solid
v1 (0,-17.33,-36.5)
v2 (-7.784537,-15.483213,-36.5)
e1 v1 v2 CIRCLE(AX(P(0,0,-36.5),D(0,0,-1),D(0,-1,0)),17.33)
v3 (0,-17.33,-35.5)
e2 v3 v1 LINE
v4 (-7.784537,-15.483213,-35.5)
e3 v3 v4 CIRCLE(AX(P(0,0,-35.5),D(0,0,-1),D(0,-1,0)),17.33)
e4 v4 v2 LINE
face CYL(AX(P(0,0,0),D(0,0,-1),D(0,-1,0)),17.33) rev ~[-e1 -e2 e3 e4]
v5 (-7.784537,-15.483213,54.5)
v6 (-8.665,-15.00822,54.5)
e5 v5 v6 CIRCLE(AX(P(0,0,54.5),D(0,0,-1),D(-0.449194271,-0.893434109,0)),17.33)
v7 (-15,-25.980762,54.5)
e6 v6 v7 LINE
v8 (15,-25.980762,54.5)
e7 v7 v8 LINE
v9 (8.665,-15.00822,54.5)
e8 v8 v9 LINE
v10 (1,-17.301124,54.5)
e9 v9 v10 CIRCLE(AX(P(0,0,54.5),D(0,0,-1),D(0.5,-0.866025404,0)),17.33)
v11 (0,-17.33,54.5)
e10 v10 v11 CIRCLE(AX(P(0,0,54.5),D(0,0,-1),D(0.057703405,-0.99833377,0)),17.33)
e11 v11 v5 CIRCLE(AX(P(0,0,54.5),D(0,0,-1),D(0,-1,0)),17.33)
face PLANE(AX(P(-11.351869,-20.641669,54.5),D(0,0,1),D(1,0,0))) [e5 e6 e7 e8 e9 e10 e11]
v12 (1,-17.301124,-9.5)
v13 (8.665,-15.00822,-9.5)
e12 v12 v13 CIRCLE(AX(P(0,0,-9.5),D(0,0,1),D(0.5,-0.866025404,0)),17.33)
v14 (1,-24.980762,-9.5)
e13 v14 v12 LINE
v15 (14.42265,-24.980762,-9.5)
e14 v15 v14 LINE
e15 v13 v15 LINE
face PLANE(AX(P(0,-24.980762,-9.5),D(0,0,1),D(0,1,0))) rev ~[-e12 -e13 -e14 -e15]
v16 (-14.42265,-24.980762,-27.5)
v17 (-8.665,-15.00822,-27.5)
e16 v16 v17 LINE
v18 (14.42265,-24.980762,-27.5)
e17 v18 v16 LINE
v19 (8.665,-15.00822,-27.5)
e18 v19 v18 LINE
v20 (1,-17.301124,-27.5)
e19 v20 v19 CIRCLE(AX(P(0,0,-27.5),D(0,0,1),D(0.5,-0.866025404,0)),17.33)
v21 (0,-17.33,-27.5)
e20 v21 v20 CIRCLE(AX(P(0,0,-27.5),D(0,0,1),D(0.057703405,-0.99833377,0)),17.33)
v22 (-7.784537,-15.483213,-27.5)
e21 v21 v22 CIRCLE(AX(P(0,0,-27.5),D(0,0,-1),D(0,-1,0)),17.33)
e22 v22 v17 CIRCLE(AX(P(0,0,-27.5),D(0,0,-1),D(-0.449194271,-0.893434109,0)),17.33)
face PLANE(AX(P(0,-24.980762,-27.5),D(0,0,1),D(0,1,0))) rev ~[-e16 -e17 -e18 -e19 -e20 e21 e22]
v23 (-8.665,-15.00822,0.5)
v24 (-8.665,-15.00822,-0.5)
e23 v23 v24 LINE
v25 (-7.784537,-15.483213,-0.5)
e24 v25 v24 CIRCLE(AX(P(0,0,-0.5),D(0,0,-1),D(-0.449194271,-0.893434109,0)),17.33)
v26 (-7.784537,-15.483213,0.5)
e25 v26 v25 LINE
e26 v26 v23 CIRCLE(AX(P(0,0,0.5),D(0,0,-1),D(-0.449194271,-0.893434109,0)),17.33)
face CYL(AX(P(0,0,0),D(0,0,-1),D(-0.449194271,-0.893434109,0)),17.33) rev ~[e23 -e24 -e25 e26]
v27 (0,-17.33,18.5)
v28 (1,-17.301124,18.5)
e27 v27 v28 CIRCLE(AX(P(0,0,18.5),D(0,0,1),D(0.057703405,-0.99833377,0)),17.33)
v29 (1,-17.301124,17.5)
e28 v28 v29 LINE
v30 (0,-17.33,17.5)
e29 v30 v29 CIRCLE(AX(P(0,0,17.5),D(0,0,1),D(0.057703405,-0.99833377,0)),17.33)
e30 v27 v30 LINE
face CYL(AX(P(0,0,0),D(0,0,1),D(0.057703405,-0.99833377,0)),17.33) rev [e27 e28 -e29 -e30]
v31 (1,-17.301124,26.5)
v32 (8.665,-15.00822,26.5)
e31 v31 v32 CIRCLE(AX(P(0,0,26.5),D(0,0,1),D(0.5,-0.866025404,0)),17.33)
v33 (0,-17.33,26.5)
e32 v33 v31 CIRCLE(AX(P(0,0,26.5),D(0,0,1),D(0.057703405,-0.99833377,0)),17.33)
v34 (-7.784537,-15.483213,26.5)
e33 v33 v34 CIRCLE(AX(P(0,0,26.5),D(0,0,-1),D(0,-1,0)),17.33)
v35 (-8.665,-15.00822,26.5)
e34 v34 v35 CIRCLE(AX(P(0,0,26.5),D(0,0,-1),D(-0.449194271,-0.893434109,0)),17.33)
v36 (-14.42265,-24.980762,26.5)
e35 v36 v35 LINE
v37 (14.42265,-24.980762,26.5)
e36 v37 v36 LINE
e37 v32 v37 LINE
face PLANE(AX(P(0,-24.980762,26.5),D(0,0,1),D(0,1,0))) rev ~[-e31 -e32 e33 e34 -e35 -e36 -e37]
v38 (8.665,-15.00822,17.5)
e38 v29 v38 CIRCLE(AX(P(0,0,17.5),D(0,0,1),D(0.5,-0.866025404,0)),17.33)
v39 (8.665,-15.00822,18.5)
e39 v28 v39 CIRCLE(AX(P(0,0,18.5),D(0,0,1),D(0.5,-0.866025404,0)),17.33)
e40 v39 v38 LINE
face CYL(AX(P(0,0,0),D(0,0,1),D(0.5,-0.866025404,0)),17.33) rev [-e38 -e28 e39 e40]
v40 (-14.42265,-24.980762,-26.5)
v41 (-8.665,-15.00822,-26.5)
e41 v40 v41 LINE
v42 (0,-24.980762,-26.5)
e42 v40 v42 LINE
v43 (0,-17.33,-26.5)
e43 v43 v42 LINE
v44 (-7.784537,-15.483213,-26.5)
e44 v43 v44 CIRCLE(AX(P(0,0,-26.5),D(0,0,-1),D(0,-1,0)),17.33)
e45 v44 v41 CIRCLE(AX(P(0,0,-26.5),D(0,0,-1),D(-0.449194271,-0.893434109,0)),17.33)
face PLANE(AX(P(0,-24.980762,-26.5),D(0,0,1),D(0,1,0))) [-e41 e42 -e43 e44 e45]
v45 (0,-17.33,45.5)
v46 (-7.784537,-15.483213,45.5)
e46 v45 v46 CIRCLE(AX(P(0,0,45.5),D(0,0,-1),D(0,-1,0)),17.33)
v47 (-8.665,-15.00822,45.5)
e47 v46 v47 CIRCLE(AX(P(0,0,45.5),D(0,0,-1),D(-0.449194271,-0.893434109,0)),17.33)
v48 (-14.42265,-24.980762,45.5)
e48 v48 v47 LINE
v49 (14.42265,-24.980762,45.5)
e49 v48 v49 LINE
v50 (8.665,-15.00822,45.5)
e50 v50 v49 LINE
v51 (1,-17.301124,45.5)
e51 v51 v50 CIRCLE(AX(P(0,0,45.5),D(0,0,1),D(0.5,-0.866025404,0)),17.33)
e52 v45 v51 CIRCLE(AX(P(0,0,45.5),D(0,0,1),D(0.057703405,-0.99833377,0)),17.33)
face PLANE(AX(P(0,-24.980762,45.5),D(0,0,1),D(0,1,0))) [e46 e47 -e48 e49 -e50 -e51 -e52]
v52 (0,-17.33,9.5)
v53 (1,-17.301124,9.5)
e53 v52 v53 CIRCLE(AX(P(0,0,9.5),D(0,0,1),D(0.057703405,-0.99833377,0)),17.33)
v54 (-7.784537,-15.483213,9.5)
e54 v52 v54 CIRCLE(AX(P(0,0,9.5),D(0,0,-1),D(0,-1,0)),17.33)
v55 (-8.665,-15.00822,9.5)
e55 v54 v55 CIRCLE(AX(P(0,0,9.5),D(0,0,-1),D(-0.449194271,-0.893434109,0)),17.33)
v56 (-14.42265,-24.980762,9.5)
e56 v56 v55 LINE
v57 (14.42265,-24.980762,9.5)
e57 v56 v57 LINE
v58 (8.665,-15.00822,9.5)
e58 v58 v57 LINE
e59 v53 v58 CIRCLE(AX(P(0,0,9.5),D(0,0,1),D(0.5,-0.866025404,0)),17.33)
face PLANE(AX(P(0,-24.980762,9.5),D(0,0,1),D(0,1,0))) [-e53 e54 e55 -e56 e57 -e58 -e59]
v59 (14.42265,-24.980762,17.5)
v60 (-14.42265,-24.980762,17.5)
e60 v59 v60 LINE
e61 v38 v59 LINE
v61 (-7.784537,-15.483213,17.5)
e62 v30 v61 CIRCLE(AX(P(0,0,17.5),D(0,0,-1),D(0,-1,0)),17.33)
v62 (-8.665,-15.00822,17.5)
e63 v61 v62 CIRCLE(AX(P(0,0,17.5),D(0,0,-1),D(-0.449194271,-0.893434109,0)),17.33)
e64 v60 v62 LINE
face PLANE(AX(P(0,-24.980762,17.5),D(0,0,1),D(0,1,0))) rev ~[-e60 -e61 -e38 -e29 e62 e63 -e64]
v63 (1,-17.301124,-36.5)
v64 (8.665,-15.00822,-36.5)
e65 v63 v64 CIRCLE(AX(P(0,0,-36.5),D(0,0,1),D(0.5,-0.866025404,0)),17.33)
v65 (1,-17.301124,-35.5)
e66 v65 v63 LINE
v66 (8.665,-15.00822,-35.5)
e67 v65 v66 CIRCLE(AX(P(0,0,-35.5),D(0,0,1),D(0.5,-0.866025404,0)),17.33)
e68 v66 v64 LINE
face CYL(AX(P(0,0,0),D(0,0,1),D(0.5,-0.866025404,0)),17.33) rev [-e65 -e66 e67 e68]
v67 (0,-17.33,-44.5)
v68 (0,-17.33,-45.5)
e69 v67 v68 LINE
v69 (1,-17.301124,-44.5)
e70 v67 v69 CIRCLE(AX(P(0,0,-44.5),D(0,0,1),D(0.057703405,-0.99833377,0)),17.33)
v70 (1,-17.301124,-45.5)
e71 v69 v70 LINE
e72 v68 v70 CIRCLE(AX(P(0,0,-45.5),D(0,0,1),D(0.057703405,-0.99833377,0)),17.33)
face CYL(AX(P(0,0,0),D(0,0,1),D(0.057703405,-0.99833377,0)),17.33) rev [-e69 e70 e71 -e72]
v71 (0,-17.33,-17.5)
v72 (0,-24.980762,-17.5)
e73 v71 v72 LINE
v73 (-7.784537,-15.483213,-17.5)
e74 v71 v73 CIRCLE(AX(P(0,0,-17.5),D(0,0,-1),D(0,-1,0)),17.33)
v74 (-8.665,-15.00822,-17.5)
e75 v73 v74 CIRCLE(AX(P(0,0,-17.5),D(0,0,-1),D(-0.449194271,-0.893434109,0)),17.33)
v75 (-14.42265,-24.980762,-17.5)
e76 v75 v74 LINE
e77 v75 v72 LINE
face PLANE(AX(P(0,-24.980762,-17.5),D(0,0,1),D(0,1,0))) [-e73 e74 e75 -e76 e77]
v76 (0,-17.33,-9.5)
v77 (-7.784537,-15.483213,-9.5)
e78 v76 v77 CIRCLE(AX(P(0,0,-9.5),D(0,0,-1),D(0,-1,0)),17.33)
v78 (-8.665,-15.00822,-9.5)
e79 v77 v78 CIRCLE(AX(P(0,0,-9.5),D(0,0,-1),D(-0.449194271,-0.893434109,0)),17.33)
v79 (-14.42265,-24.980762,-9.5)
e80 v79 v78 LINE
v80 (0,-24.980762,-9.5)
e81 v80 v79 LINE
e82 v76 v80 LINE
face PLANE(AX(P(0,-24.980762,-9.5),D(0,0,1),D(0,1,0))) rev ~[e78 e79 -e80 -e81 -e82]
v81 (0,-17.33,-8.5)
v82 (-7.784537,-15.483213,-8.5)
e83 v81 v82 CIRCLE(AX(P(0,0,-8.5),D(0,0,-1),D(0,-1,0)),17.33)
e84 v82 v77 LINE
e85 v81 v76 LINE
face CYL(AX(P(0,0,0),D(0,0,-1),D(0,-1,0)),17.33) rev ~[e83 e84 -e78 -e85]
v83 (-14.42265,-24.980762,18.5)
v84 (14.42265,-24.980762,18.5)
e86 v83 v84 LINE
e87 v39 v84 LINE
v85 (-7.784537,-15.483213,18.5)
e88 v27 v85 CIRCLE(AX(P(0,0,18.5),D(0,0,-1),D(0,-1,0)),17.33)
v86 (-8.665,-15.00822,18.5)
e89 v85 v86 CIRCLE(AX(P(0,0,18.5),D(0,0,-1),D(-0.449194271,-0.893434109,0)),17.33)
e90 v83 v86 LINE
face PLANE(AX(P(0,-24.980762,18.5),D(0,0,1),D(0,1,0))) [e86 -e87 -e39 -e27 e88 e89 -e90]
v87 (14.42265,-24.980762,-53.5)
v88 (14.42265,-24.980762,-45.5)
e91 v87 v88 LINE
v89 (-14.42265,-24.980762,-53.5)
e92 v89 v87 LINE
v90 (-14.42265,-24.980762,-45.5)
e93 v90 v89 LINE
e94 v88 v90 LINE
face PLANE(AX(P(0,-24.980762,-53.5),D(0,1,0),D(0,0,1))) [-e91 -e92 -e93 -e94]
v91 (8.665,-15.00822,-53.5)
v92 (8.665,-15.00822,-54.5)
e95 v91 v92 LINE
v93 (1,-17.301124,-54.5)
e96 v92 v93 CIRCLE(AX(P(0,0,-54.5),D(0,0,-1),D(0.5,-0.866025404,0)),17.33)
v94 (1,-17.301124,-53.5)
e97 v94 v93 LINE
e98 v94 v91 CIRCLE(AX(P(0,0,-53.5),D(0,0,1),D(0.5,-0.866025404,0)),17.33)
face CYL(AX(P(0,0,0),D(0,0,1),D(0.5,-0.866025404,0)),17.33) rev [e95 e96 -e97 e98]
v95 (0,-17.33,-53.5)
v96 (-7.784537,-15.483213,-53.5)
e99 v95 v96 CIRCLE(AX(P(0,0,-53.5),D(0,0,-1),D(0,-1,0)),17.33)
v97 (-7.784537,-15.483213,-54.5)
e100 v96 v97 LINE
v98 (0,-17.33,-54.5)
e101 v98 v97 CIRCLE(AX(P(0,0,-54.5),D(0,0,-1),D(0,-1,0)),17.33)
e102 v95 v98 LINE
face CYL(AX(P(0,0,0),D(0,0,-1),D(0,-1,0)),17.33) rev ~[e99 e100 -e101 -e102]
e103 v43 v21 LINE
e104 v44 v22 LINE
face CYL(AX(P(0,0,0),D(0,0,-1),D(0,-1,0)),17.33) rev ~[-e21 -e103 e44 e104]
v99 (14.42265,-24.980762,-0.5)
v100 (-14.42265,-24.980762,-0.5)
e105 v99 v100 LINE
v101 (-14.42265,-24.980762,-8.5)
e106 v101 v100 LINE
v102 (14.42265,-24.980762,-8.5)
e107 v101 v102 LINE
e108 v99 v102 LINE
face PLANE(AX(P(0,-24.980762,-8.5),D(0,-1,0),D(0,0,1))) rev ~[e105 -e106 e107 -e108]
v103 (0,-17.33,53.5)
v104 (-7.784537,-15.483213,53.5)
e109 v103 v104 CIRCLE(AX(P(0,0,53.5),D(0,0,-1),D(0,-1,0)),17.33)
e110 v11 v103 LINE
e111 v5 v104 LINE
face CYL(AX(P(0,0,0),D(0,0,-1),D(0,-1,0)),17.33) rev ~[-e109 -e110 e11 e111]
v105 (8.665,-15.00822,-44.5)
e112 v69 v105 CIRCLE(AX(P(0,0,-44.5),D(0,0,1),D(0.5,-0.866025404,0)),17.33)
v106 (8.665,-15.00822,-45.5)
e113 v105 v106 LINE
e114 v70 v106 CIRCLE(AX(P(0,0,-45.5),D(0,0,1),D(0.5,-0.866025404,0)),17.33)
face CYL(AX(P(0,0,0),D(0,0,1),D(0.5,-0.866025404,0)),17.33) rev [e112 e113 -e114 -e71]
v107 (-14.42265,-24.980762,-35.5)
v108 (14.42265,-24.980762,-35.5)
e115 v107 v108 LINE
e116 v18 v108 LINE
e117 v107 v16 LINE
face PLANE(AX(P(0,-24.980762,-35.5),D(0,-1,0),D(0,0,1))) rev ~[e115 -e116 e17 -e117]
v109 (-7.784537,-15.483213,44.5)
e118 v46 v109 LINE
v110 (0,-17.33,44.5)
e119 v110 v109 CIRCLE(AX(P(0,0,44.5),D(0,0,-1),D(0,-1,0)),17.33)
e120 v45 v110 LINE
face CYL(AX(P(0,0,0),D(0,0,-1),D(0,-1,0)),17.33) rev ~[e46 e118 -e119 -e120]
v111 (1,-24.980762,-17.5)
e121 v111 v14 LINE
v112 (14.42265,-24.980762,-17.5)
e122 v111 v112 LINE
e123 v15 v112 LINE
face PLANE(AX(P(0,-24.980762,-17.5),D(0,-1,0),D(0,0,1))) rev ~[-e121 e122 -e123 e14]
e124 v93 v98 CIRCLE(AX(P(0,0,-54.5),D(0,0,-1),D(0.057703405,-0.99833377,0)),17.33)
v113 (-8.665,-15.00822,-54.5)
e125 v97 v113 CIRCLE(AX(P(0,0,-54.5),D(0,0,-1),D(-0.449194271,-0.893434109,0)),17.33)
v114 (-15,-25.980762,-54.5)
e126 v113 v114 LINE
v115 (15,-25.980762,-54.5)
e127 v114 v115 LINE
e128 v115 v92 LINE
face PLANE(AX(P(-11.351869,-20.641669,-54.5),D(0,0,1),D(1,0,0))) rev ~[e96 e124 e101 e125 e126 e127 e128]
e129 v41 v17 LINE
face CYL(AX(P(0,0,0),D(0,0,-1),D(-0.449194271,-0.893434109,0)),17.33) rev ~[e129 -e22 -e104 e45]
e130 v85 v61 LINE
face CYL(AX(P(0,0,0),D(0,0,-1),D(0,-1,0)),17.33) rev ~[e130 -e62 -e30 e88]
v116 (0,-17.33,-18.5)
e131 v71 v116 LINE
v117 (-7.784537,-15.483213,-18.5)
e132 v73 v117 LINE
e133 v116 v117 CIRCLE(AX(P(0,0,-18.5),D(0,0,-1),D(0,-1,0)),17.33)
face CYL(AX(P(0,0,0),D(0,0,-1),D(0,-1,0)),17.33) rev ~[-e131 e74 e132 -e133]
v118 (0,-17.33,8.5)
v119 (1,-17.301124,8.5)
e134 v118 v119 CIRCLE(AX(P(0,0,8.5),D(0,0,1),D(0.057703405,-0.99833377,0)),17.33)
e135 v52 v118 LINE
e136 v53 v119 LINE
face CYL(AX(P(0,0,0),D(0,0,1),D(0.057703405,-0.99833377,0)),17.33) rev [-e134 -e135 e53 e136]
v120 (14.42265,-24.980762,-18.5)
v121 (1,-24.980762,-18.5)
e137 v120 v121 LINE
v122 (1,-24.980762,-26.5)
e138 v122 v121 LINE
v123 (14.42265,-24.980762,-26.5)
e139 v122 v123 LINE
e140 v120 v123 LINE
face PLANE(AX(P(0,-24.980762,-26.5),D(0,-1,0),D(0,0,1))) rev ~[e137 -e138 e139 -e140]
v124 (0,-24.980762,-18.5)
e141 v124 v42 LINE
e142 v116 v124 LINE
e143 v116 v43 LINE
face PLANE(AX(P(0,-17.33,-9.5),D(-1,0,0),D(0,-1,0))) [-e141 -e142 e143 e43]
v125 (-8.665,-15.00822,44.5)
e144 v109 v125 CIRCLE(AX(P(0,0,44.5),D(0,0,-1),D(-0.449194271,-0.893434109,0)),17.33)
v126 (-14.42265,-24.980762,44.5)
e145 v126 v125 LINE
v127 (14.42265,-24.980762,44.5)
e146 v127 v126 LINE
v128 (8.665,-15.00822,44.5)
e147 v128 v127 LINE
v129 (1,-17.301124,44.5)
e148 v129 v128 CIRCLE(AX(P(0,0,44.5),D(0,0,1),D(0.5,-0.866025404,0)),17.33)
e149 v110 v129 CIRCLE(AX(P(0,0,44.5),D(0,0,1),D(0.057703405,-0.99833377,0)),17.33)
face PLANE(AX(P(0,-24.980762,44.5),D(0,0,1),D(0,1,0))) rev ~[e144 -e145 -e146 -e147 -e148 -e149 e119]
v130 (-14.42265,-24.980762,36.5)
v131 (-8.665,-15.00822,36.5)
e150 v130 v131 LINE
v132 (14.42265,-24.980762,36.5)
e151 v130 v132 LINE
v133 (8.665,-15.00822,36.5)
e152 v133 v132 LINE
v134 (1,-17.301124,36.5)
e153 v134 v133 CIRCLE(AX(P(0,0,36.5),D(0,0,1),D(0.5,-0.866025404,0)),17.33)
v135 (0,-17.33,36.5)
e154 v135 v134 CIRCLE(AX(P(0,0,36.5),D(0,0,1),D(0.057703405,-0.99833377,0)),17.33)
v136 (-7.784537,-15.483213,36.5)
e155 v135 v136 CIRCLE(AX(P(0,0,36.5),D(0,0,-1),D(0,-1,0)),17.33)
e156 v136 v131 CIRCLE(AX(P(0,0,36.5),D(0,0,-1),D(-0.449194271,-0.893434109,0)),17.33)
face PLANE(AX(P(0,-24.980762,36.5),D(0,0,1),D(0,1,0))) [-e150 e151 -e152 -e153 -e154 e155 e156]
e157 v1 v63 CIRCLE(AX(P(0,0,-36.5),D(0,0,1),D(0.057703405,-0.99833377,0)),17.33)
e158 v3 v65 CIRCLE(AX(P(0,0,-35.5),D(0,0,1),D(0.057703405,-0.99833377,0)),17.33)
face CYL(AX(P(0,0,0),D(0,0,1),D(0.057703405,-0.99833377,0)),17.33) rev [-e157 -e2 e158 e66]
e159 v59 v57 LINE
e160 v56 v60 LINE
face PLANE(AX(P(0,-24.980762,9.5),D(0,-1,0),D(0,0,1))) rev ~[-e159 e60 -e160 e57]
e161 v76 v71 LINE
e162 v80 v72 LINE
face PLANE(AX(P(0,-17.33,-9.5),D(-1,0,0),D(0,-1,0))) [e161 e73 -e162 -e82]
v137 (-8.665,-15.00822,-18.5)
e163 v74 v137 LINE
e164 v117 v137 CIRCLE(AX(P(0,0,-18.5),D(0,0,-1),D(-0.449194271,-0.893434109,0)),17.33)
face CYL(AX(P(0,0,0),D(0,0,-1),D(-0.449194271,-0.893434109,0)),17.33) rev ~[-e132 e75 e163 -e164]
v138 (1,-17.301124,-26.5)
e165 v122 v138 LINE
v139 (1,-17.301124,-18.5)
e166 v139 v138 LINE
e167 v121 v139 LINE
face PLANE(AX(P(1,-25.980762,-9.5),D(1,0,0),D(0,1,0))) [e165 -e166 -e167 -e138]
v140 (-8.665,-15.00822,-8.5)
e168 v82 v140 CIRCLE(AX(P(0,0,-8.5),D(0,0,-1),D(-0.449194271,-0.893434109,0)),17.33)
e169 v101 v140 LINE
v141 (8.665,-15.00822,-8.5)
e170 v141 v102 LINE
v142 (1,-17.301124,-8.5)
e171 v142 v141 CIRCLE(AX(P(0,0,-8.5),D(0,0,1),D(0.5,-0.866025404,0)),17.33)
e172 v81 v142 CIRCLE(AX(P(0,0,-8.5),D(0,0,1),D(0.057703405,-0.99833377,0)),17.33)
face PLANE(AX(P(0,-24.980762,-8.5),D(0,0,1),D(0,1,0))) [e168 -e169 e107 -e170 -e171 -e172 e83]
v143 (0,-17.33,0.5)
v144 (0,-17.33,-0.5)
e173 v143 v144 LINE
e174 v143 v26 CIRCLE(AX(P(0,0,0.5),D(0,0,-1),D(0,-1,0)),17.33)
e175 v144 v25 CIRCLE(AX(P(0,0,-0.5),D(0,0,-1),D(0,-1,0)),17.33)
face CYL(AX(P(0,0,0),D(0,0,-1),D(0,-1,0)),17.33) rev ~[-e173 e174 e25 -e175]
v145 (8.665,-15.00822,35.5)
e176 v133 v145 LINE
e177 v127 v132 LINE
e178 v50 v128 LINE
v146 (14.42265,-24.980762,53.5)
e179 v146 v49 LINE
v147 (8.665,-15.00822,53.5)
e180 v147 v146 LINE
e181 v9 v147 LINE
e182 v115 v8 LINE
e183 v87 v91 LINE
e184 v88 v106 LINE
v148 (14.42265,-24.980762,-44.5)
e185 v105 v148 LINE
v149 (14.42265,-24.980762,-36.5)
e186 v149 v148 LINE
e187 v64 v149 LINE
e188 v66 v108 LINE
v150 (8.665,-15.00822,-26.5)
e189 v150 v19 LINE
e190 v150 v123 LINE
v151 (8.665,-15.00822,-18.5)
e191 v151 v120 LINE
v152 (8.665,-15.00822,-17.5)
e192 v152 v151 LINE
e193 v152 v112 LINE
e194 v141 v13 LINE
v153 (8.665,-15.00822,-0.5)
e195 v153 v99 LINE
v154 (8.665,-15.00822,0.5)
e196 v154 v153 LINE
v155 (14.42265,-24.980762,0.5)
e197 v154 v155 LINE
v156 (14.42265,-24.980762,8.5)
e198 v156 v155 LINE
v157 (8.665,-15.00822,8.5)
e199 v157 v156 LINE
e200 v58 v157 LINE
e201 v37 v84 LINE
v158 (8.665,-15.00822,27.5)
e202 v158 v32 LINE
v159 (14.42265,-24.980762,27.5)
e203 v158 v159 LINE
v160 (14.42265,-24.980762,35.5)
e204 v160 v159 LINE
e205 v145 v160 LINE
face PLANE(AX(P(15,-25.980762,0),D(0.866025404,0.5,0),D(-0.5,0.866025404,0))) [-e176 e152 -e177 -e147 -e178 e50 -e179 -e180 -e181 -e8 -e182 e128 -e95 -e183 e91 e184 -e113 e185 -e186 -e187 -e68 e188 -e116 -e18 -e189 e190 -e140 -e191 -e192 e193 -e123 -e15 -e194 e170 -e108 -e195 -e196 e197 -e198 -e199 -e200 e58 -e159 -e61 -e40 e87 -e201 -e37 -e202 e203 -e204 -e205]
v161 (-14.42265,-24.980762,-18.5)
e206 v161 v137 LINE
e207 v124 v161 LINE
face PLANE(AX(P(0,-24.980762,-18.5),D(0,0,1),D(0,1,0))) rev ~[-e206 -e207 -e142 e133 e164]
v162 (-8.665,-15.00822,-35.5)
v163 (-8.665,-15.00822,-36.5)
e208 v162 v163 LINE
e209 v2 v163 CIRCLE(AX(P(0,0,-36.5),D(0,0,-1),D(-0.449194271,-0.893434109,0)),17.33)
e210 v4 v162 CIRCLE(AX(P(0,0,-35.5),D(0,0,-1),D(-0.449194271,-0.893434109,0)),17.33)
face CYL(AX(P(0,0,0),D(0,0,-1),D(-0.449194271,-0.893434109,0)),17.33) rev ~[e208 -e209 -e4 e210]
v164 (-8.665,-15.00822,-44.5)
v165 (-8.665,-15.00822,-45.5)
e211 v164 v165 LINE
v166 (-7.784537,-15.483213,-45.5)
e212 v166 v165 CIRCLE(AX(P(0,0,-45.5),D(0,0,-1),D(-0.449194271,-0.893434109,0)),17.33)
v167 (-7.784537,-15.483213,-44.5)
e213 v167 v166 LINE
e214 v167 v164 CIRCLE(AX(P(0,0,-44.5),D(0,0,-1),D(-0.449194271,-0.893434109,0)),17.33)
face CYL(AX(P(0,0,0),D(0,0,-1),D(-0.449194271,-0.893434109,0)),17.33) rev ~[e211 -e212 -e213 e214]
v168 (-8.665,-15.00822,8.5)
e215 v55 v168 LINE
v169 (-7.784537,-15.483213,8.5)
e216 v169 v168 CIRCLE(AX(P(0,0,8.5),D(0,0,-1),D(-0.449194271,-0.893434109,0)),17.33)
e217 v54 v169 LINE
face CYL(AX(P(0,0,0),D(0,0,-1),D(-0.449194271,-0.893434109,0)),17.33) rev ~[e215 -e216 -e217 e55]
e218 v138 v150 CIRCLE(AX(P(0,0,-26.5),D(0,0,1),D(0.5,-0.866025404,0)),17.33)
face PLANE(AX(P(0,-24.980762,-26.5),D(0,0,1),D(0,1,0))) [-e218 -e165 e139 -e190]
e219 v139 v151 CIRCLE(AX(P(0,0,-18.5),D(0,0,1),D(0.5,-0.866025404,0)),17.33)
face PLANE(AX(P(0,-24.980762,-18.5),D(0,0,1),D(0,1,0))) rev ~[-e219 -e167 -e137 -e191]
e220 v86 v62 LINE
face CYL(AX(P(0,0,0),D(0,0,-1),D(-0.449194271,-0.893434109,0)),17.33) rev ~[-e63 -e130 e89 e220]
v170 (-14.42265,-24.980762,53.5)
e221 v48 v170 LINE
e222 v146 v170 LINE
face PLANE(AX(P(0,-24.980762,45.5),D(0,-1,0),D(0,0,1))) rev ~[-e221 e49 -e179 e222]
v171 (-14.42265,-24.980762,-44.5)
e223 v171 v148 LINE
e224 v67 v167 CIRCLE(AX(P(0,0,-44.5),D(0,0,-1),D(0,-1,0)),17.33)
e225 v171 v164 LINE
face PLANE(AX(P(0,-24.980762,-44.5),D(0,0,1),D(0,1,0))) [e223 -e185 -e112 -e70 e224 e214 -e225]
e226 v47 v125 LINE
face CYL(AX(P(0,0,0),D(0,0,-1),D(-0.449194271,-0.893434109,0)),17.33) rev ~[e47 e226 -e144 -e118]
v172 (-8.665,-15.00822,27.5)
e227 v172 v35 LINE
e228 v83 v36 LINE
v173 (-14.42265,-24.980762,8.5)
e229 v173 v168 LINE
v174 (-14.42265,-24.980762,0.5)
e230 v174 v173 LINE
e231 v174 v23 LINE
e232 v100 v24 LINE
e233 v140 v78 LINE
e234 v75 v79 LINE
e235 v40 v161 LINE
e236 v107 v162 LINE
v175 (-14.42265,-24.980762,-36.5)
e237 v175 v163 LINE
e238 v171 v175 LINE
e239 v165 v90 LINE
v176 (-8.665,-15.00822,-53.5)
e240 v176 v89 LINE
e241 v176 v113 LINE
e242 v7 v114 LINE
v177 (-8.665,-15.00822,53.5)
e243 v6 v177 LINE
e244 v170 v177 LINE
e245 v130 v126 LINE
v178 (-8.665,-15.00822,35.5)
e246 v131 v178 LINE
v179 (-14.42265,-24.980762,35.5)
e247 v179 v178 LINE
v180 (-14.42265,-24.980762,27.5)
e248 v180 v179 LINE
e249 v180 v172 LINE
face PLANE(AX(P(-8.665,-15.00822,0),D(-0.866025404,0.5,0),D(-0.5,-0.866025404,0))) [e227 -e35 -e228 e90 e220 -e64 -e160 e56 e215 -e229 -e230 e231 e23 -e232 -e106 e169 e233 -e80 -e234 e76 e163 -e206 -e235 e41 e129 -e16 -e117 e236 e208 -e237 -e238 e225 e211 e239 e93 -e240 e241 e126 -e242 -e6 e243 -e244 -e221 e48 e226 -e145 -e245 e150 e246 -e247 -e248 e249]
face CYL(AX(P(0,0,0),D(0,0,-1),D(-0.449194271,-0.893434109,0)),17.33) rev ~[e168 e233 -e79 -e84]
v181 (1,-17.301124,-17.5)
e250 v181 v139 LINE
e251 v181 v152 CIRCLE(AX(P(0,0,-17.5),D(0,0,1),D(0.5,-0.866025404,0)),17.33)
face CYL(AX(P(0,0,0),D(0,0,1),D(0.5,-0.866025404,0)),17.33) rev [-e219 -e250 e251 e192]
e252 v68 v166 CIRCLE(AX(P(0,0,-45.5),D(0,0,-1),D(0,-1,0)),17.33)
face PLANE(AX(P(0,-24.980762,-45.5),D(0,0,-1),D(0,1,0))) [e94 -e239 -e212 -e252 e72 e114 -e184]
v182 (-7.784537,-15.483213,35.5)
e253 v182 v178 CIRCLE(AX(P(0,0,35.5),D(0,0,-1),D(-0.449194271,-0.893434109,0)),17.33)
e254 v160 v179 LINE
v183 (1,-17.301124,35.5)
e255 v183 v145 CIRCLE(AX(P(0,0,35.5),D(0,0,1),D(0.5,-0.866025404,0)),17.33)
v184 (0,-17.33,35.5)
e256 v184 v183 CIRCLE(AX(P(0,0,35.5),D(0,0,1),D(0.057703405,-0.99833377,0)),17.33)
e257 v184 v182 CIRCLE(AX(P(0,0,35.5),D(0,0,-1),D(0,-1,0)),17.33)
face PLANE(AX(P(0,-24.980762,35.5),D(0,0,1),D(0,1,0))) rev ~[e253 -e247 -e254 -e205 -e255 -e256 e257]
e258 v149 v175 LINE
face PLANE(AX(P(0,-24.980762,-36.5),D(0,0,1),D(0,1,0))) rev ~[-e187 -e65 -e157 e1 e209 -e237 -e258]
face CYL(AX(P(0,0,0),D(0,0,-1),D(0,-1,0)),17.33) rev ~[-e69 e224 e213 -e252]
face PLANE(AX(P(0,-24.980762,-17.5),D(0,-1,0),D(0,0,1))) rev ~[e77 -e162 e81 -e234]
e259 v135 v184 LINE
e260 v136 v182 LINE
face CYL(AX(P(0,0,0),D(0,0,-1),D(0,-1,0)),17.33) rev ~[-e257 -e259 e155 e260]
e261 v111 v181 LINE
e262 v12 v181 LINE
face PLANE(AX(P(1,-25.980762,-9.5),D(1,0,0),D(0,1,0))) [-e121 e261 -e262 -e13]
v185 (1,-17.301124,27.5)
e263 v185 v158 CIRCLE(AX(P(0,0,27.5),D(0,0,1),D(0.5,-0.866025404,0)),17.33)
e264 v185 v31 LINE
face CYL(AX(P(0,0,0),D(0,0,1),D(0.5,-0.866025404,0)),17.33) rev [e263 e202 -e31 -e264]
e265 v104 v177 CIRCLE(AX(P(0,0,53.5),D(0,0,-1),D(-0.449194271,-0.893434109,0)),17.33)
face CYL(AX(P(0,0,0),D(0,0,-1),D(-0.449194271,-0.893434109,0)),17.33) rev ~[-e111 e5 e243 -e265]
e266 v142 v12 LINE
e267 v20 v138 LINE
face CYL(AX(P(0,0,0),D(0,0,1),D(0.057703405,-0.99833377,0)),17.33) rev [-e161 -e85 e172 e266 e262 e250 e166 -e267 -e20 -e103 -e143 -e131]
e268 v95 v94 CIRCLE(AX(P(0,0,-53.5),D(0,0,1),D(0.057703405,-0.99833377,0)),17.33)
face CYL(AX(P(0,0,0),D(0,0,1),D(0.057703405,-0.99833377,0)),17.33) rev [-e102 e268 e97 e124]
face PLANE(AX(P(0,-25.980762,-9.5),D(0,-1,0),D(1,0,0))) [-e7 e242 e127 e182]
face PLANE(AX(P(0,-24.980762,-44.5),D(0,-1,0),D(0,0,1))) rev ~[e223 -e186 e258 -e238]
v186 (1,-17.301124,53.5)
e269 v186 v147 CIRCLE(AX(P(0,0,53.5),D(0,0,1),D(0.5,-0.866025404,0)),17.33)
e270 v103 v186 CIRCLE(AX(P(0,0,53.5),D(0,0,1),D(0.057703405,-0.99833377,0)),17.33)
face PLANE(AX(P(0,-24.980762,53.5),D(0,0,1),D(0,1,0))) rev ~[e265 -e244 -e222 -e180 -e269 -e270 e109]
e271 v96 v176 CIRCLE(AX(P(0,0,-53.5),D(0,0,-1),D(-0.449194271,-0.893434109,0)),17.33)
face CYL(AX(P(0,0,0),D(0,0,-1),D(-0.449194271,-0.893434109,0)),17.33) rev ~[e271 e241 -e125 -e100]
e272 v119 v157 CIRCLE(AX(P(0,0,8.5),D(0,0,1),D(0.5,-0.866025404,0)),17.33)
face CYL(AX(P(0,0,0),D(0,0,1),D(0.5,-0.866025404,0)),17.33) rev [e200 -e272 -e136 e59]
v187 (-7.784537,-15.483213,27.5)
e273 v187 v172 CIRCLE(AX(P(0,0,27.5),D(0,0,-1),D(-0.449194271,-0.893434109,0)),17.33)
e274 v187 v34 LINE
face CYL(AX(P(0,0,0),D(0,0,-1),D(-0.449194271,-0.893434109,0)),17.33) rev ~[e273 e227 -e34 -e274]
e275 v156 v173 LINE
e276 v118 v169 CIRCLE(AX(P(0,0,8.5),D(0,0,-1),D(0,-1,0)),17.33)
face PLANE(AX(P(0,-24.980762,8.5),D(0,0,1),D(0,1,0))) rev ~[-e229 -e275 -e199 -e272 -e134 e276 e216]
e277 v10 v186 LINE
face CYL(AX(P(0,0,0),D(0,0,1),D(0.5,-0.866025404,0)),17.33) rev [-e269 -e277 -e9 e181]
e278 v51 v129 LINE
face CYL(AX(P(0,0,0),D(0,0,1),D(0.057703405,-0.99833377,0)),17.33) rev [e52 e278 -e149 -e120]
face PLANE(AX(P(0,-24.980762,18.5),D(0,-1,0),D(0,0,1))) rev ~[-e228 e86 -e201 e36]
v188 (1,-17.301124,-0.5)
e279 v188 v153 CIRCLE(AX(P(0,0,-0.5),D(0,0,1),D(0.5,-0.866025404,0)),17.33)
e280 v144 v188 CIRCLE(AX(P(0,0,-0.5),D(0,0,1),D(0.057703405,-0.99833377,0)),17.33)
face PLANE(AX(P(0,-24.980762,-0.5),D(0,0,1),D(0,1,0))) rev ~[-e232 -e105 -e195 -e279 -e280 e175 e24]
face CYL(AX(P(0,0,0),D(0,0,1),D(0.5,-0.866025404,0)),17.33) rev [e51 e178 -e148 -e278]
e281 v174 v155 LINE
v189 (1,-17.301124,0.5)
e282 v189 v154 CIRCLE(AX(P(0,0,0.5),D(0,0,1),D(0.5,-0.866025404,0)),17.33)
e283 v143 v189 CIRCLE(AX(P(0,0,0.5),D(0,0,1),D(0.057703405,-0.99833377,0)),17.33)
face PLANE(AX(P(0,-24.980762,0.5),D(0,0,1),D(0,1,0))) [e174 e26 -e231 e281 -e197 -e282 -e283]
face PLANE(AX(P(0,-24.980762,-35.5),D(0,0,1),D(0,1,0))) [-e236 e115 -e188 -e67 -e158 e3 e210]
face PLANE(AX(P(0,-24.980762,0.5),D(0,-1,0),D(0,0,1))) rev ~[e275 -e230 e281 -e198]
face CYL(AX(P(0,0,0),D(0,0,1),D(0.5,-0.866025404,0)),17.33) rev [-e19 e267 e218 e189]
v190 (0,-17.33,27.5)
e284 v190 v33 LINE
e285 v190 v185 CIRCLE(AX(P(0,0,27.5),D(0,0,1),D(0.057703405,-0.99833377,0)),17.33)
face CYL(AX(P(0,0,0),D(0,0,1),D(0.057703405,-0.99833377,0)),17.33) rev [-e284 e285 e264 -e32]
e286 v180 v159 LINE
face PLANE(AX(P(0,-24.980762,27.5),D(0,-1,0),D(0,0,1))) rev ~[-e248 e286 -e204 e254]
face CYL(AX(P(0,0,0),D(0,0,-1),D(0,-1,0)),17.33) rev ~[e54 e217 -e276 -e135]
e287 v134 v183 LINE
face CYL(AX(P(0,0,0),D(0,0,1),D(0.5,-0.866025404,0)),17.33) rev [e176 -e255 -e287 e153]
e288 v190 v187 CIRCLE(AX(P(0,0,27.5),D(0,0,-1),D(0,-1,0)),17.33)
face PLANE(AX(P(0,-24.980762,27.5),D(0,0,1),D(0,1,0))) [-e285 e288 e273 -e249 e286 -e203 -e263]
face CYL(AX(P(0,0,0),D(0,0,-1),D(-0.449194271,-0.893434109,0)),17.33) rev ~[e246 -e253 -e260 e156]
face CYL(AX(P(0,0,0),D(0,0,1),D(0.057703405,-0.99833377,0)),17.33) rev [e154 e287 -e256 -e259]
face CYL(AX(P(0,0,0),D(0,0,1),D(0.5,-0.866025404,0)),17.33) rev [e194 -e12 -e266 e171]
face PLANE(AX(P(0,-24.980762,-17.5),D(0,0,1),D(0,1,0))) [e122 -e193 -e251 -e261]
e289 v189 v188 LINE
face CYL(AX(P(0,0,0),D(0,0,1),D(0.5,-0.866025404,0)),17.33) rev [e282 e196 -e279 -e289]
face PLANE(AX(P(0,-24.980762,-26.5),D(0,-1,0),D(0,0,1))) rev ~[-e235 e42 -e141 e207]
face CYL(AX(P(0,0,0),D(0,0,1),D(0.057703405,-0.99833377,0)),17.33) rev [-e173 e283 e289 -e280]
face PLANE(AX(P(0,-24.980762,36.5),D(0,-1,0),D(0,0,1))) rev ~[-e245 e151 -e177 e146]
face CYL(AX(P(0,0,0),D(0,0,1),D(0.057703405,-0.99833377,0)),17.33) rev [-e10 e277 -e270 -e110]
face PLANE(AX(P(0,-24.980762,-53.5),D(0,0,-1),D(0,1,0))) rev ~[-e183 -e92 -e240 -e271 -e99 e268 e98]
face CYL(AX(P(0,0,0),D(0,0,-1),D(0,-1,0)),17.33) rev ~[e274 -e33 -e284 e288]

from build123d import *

# Parameters (mm, degrees)
F1_DEPTH = 54.5
F2_W     = 11
F2_H     = 8
F3_DEPTH = 17.5
F4_START = -9.5
F4_DEPTH = 17.7


with BuildPart() as f1:
    # F0 (on Top) → F1 (new body, symmetric)
    with BuildSketch(Plane.XY):
        with BuildLine():
            Line((-15, -25.9807621135), (-13.8452994616, -25.9807621135))
            Line((-13.8452994616, -25.9807621135), (-7.7845367167, -15.4832131067))
            ThreePointArc((-7.7845367167, -15.4832131067), (-8.2281965887, -15.2520713642), (-8.665, -15.0082202476))
            Line((-8.665, -15.0082202476), (-15, -25.9807621135))
        make_face()
        with BuildLine():
            Line((-13.8452994616, -25.9807621135), (0, -25.9807621135))
            Line((0, -25.9807621135), (0, -17.33))
            ThreePointArc((0, -17.33), (-4.0003010425, -16.8619836191), (-7.7845367167, -15.4832131067))
            Line((-7.7845367167, -15.4832131067), (-13.8452994616, -25.9807621135))
        make_face()
        with BuildLine():
            Line((0, -25.9807621135), (1, -25.9807621135))
            Line((1, -25.9807621135), (1, -17.3011242409))
            ThreePointArc((1, -17.3011242409), (0.5002084089, -17.3227795561), (0, -17.33))
            Line((0, -17.33), (0, -25.9807621135))
        make_face()
        with BuildLine():
            Line((1, -25.9807621135), (15, -25.9807621135))
            Line((15, -25.9807621135), (8.665, -15.0082202476))
            ThreePointArc((8.665, -15.0082202476), (4.9666294839, -16.6030566936), (1, -17.3011242409))
            Line((1, -17.3011242409), (1, -25.9807621135))
        make_face()
    extrude(amount=F1_DEPTH, both=True)

    # F2 (on Right) → F3 (cut, symmetric)
    with BuildSketch(Plane.YZ):
        with Locations((-19.4807621135, 49.5)):
            Rectangle(F2_W, F2_H)
        with Locations((-19.4807621135, 40.5)):
            Rectangle(F2_W, F2_H)
        with Locations((-19.4807621135, 31.5)):
            Rectangle(F2_W, F2_H)
        with Locations((-19.4807621135, 22.5)):
            Rectangle(F2_W, F2_H)
        with Locations((-19.4807621135, 13.5)):
            Rectangle(F2_W, F2_H)
        with Locations((-19.4807621135, 4.5)):
            Rectangle(F2_W, F2_H)
        with Locations((-19.4807621135, -4.5)):
            Rectangle(F2_W, F2_H)
        with Locations((-19.4807621135, -13.5)):
            Rectangle(F2_W, F2_H)
        with Locations((-19.4807621135, -22.5)):
            Rectangle(F2_W, F2_H)
        with Locations((-19.4807621135, -31.5)):
            Rectangle(F2_W, F2_H)
        with Locations((-19.4807621135, -40.5)):
            Rectangle(F2_W, F2_H)
        with Locations((-19.4807621135, -49.5)):
            Rectangle(F2_W, F2_H)
    extrude(amount=F3_DEPTH, both=True, mode=Mode.SUBTRACT)

    # F0 (on Top) → F4 (join)
    with BuildSketch(Plane.XY.offset(F4_START)):
        with BuildLine():
            Line((0, -25.9807621135), (1, -25.9807621135))
            Line((1, -25.9807621135), (1, -17.3011242409))
            ThreePointArc((1, -17.3011242409), (0.5002084089, -17.3227795561), (0, -17.33))
            Line((0, -17.33), (0, -25.9807621135))
        make_face()
    extrude(amount=-F4_DEPTH)


solid = f1.part
